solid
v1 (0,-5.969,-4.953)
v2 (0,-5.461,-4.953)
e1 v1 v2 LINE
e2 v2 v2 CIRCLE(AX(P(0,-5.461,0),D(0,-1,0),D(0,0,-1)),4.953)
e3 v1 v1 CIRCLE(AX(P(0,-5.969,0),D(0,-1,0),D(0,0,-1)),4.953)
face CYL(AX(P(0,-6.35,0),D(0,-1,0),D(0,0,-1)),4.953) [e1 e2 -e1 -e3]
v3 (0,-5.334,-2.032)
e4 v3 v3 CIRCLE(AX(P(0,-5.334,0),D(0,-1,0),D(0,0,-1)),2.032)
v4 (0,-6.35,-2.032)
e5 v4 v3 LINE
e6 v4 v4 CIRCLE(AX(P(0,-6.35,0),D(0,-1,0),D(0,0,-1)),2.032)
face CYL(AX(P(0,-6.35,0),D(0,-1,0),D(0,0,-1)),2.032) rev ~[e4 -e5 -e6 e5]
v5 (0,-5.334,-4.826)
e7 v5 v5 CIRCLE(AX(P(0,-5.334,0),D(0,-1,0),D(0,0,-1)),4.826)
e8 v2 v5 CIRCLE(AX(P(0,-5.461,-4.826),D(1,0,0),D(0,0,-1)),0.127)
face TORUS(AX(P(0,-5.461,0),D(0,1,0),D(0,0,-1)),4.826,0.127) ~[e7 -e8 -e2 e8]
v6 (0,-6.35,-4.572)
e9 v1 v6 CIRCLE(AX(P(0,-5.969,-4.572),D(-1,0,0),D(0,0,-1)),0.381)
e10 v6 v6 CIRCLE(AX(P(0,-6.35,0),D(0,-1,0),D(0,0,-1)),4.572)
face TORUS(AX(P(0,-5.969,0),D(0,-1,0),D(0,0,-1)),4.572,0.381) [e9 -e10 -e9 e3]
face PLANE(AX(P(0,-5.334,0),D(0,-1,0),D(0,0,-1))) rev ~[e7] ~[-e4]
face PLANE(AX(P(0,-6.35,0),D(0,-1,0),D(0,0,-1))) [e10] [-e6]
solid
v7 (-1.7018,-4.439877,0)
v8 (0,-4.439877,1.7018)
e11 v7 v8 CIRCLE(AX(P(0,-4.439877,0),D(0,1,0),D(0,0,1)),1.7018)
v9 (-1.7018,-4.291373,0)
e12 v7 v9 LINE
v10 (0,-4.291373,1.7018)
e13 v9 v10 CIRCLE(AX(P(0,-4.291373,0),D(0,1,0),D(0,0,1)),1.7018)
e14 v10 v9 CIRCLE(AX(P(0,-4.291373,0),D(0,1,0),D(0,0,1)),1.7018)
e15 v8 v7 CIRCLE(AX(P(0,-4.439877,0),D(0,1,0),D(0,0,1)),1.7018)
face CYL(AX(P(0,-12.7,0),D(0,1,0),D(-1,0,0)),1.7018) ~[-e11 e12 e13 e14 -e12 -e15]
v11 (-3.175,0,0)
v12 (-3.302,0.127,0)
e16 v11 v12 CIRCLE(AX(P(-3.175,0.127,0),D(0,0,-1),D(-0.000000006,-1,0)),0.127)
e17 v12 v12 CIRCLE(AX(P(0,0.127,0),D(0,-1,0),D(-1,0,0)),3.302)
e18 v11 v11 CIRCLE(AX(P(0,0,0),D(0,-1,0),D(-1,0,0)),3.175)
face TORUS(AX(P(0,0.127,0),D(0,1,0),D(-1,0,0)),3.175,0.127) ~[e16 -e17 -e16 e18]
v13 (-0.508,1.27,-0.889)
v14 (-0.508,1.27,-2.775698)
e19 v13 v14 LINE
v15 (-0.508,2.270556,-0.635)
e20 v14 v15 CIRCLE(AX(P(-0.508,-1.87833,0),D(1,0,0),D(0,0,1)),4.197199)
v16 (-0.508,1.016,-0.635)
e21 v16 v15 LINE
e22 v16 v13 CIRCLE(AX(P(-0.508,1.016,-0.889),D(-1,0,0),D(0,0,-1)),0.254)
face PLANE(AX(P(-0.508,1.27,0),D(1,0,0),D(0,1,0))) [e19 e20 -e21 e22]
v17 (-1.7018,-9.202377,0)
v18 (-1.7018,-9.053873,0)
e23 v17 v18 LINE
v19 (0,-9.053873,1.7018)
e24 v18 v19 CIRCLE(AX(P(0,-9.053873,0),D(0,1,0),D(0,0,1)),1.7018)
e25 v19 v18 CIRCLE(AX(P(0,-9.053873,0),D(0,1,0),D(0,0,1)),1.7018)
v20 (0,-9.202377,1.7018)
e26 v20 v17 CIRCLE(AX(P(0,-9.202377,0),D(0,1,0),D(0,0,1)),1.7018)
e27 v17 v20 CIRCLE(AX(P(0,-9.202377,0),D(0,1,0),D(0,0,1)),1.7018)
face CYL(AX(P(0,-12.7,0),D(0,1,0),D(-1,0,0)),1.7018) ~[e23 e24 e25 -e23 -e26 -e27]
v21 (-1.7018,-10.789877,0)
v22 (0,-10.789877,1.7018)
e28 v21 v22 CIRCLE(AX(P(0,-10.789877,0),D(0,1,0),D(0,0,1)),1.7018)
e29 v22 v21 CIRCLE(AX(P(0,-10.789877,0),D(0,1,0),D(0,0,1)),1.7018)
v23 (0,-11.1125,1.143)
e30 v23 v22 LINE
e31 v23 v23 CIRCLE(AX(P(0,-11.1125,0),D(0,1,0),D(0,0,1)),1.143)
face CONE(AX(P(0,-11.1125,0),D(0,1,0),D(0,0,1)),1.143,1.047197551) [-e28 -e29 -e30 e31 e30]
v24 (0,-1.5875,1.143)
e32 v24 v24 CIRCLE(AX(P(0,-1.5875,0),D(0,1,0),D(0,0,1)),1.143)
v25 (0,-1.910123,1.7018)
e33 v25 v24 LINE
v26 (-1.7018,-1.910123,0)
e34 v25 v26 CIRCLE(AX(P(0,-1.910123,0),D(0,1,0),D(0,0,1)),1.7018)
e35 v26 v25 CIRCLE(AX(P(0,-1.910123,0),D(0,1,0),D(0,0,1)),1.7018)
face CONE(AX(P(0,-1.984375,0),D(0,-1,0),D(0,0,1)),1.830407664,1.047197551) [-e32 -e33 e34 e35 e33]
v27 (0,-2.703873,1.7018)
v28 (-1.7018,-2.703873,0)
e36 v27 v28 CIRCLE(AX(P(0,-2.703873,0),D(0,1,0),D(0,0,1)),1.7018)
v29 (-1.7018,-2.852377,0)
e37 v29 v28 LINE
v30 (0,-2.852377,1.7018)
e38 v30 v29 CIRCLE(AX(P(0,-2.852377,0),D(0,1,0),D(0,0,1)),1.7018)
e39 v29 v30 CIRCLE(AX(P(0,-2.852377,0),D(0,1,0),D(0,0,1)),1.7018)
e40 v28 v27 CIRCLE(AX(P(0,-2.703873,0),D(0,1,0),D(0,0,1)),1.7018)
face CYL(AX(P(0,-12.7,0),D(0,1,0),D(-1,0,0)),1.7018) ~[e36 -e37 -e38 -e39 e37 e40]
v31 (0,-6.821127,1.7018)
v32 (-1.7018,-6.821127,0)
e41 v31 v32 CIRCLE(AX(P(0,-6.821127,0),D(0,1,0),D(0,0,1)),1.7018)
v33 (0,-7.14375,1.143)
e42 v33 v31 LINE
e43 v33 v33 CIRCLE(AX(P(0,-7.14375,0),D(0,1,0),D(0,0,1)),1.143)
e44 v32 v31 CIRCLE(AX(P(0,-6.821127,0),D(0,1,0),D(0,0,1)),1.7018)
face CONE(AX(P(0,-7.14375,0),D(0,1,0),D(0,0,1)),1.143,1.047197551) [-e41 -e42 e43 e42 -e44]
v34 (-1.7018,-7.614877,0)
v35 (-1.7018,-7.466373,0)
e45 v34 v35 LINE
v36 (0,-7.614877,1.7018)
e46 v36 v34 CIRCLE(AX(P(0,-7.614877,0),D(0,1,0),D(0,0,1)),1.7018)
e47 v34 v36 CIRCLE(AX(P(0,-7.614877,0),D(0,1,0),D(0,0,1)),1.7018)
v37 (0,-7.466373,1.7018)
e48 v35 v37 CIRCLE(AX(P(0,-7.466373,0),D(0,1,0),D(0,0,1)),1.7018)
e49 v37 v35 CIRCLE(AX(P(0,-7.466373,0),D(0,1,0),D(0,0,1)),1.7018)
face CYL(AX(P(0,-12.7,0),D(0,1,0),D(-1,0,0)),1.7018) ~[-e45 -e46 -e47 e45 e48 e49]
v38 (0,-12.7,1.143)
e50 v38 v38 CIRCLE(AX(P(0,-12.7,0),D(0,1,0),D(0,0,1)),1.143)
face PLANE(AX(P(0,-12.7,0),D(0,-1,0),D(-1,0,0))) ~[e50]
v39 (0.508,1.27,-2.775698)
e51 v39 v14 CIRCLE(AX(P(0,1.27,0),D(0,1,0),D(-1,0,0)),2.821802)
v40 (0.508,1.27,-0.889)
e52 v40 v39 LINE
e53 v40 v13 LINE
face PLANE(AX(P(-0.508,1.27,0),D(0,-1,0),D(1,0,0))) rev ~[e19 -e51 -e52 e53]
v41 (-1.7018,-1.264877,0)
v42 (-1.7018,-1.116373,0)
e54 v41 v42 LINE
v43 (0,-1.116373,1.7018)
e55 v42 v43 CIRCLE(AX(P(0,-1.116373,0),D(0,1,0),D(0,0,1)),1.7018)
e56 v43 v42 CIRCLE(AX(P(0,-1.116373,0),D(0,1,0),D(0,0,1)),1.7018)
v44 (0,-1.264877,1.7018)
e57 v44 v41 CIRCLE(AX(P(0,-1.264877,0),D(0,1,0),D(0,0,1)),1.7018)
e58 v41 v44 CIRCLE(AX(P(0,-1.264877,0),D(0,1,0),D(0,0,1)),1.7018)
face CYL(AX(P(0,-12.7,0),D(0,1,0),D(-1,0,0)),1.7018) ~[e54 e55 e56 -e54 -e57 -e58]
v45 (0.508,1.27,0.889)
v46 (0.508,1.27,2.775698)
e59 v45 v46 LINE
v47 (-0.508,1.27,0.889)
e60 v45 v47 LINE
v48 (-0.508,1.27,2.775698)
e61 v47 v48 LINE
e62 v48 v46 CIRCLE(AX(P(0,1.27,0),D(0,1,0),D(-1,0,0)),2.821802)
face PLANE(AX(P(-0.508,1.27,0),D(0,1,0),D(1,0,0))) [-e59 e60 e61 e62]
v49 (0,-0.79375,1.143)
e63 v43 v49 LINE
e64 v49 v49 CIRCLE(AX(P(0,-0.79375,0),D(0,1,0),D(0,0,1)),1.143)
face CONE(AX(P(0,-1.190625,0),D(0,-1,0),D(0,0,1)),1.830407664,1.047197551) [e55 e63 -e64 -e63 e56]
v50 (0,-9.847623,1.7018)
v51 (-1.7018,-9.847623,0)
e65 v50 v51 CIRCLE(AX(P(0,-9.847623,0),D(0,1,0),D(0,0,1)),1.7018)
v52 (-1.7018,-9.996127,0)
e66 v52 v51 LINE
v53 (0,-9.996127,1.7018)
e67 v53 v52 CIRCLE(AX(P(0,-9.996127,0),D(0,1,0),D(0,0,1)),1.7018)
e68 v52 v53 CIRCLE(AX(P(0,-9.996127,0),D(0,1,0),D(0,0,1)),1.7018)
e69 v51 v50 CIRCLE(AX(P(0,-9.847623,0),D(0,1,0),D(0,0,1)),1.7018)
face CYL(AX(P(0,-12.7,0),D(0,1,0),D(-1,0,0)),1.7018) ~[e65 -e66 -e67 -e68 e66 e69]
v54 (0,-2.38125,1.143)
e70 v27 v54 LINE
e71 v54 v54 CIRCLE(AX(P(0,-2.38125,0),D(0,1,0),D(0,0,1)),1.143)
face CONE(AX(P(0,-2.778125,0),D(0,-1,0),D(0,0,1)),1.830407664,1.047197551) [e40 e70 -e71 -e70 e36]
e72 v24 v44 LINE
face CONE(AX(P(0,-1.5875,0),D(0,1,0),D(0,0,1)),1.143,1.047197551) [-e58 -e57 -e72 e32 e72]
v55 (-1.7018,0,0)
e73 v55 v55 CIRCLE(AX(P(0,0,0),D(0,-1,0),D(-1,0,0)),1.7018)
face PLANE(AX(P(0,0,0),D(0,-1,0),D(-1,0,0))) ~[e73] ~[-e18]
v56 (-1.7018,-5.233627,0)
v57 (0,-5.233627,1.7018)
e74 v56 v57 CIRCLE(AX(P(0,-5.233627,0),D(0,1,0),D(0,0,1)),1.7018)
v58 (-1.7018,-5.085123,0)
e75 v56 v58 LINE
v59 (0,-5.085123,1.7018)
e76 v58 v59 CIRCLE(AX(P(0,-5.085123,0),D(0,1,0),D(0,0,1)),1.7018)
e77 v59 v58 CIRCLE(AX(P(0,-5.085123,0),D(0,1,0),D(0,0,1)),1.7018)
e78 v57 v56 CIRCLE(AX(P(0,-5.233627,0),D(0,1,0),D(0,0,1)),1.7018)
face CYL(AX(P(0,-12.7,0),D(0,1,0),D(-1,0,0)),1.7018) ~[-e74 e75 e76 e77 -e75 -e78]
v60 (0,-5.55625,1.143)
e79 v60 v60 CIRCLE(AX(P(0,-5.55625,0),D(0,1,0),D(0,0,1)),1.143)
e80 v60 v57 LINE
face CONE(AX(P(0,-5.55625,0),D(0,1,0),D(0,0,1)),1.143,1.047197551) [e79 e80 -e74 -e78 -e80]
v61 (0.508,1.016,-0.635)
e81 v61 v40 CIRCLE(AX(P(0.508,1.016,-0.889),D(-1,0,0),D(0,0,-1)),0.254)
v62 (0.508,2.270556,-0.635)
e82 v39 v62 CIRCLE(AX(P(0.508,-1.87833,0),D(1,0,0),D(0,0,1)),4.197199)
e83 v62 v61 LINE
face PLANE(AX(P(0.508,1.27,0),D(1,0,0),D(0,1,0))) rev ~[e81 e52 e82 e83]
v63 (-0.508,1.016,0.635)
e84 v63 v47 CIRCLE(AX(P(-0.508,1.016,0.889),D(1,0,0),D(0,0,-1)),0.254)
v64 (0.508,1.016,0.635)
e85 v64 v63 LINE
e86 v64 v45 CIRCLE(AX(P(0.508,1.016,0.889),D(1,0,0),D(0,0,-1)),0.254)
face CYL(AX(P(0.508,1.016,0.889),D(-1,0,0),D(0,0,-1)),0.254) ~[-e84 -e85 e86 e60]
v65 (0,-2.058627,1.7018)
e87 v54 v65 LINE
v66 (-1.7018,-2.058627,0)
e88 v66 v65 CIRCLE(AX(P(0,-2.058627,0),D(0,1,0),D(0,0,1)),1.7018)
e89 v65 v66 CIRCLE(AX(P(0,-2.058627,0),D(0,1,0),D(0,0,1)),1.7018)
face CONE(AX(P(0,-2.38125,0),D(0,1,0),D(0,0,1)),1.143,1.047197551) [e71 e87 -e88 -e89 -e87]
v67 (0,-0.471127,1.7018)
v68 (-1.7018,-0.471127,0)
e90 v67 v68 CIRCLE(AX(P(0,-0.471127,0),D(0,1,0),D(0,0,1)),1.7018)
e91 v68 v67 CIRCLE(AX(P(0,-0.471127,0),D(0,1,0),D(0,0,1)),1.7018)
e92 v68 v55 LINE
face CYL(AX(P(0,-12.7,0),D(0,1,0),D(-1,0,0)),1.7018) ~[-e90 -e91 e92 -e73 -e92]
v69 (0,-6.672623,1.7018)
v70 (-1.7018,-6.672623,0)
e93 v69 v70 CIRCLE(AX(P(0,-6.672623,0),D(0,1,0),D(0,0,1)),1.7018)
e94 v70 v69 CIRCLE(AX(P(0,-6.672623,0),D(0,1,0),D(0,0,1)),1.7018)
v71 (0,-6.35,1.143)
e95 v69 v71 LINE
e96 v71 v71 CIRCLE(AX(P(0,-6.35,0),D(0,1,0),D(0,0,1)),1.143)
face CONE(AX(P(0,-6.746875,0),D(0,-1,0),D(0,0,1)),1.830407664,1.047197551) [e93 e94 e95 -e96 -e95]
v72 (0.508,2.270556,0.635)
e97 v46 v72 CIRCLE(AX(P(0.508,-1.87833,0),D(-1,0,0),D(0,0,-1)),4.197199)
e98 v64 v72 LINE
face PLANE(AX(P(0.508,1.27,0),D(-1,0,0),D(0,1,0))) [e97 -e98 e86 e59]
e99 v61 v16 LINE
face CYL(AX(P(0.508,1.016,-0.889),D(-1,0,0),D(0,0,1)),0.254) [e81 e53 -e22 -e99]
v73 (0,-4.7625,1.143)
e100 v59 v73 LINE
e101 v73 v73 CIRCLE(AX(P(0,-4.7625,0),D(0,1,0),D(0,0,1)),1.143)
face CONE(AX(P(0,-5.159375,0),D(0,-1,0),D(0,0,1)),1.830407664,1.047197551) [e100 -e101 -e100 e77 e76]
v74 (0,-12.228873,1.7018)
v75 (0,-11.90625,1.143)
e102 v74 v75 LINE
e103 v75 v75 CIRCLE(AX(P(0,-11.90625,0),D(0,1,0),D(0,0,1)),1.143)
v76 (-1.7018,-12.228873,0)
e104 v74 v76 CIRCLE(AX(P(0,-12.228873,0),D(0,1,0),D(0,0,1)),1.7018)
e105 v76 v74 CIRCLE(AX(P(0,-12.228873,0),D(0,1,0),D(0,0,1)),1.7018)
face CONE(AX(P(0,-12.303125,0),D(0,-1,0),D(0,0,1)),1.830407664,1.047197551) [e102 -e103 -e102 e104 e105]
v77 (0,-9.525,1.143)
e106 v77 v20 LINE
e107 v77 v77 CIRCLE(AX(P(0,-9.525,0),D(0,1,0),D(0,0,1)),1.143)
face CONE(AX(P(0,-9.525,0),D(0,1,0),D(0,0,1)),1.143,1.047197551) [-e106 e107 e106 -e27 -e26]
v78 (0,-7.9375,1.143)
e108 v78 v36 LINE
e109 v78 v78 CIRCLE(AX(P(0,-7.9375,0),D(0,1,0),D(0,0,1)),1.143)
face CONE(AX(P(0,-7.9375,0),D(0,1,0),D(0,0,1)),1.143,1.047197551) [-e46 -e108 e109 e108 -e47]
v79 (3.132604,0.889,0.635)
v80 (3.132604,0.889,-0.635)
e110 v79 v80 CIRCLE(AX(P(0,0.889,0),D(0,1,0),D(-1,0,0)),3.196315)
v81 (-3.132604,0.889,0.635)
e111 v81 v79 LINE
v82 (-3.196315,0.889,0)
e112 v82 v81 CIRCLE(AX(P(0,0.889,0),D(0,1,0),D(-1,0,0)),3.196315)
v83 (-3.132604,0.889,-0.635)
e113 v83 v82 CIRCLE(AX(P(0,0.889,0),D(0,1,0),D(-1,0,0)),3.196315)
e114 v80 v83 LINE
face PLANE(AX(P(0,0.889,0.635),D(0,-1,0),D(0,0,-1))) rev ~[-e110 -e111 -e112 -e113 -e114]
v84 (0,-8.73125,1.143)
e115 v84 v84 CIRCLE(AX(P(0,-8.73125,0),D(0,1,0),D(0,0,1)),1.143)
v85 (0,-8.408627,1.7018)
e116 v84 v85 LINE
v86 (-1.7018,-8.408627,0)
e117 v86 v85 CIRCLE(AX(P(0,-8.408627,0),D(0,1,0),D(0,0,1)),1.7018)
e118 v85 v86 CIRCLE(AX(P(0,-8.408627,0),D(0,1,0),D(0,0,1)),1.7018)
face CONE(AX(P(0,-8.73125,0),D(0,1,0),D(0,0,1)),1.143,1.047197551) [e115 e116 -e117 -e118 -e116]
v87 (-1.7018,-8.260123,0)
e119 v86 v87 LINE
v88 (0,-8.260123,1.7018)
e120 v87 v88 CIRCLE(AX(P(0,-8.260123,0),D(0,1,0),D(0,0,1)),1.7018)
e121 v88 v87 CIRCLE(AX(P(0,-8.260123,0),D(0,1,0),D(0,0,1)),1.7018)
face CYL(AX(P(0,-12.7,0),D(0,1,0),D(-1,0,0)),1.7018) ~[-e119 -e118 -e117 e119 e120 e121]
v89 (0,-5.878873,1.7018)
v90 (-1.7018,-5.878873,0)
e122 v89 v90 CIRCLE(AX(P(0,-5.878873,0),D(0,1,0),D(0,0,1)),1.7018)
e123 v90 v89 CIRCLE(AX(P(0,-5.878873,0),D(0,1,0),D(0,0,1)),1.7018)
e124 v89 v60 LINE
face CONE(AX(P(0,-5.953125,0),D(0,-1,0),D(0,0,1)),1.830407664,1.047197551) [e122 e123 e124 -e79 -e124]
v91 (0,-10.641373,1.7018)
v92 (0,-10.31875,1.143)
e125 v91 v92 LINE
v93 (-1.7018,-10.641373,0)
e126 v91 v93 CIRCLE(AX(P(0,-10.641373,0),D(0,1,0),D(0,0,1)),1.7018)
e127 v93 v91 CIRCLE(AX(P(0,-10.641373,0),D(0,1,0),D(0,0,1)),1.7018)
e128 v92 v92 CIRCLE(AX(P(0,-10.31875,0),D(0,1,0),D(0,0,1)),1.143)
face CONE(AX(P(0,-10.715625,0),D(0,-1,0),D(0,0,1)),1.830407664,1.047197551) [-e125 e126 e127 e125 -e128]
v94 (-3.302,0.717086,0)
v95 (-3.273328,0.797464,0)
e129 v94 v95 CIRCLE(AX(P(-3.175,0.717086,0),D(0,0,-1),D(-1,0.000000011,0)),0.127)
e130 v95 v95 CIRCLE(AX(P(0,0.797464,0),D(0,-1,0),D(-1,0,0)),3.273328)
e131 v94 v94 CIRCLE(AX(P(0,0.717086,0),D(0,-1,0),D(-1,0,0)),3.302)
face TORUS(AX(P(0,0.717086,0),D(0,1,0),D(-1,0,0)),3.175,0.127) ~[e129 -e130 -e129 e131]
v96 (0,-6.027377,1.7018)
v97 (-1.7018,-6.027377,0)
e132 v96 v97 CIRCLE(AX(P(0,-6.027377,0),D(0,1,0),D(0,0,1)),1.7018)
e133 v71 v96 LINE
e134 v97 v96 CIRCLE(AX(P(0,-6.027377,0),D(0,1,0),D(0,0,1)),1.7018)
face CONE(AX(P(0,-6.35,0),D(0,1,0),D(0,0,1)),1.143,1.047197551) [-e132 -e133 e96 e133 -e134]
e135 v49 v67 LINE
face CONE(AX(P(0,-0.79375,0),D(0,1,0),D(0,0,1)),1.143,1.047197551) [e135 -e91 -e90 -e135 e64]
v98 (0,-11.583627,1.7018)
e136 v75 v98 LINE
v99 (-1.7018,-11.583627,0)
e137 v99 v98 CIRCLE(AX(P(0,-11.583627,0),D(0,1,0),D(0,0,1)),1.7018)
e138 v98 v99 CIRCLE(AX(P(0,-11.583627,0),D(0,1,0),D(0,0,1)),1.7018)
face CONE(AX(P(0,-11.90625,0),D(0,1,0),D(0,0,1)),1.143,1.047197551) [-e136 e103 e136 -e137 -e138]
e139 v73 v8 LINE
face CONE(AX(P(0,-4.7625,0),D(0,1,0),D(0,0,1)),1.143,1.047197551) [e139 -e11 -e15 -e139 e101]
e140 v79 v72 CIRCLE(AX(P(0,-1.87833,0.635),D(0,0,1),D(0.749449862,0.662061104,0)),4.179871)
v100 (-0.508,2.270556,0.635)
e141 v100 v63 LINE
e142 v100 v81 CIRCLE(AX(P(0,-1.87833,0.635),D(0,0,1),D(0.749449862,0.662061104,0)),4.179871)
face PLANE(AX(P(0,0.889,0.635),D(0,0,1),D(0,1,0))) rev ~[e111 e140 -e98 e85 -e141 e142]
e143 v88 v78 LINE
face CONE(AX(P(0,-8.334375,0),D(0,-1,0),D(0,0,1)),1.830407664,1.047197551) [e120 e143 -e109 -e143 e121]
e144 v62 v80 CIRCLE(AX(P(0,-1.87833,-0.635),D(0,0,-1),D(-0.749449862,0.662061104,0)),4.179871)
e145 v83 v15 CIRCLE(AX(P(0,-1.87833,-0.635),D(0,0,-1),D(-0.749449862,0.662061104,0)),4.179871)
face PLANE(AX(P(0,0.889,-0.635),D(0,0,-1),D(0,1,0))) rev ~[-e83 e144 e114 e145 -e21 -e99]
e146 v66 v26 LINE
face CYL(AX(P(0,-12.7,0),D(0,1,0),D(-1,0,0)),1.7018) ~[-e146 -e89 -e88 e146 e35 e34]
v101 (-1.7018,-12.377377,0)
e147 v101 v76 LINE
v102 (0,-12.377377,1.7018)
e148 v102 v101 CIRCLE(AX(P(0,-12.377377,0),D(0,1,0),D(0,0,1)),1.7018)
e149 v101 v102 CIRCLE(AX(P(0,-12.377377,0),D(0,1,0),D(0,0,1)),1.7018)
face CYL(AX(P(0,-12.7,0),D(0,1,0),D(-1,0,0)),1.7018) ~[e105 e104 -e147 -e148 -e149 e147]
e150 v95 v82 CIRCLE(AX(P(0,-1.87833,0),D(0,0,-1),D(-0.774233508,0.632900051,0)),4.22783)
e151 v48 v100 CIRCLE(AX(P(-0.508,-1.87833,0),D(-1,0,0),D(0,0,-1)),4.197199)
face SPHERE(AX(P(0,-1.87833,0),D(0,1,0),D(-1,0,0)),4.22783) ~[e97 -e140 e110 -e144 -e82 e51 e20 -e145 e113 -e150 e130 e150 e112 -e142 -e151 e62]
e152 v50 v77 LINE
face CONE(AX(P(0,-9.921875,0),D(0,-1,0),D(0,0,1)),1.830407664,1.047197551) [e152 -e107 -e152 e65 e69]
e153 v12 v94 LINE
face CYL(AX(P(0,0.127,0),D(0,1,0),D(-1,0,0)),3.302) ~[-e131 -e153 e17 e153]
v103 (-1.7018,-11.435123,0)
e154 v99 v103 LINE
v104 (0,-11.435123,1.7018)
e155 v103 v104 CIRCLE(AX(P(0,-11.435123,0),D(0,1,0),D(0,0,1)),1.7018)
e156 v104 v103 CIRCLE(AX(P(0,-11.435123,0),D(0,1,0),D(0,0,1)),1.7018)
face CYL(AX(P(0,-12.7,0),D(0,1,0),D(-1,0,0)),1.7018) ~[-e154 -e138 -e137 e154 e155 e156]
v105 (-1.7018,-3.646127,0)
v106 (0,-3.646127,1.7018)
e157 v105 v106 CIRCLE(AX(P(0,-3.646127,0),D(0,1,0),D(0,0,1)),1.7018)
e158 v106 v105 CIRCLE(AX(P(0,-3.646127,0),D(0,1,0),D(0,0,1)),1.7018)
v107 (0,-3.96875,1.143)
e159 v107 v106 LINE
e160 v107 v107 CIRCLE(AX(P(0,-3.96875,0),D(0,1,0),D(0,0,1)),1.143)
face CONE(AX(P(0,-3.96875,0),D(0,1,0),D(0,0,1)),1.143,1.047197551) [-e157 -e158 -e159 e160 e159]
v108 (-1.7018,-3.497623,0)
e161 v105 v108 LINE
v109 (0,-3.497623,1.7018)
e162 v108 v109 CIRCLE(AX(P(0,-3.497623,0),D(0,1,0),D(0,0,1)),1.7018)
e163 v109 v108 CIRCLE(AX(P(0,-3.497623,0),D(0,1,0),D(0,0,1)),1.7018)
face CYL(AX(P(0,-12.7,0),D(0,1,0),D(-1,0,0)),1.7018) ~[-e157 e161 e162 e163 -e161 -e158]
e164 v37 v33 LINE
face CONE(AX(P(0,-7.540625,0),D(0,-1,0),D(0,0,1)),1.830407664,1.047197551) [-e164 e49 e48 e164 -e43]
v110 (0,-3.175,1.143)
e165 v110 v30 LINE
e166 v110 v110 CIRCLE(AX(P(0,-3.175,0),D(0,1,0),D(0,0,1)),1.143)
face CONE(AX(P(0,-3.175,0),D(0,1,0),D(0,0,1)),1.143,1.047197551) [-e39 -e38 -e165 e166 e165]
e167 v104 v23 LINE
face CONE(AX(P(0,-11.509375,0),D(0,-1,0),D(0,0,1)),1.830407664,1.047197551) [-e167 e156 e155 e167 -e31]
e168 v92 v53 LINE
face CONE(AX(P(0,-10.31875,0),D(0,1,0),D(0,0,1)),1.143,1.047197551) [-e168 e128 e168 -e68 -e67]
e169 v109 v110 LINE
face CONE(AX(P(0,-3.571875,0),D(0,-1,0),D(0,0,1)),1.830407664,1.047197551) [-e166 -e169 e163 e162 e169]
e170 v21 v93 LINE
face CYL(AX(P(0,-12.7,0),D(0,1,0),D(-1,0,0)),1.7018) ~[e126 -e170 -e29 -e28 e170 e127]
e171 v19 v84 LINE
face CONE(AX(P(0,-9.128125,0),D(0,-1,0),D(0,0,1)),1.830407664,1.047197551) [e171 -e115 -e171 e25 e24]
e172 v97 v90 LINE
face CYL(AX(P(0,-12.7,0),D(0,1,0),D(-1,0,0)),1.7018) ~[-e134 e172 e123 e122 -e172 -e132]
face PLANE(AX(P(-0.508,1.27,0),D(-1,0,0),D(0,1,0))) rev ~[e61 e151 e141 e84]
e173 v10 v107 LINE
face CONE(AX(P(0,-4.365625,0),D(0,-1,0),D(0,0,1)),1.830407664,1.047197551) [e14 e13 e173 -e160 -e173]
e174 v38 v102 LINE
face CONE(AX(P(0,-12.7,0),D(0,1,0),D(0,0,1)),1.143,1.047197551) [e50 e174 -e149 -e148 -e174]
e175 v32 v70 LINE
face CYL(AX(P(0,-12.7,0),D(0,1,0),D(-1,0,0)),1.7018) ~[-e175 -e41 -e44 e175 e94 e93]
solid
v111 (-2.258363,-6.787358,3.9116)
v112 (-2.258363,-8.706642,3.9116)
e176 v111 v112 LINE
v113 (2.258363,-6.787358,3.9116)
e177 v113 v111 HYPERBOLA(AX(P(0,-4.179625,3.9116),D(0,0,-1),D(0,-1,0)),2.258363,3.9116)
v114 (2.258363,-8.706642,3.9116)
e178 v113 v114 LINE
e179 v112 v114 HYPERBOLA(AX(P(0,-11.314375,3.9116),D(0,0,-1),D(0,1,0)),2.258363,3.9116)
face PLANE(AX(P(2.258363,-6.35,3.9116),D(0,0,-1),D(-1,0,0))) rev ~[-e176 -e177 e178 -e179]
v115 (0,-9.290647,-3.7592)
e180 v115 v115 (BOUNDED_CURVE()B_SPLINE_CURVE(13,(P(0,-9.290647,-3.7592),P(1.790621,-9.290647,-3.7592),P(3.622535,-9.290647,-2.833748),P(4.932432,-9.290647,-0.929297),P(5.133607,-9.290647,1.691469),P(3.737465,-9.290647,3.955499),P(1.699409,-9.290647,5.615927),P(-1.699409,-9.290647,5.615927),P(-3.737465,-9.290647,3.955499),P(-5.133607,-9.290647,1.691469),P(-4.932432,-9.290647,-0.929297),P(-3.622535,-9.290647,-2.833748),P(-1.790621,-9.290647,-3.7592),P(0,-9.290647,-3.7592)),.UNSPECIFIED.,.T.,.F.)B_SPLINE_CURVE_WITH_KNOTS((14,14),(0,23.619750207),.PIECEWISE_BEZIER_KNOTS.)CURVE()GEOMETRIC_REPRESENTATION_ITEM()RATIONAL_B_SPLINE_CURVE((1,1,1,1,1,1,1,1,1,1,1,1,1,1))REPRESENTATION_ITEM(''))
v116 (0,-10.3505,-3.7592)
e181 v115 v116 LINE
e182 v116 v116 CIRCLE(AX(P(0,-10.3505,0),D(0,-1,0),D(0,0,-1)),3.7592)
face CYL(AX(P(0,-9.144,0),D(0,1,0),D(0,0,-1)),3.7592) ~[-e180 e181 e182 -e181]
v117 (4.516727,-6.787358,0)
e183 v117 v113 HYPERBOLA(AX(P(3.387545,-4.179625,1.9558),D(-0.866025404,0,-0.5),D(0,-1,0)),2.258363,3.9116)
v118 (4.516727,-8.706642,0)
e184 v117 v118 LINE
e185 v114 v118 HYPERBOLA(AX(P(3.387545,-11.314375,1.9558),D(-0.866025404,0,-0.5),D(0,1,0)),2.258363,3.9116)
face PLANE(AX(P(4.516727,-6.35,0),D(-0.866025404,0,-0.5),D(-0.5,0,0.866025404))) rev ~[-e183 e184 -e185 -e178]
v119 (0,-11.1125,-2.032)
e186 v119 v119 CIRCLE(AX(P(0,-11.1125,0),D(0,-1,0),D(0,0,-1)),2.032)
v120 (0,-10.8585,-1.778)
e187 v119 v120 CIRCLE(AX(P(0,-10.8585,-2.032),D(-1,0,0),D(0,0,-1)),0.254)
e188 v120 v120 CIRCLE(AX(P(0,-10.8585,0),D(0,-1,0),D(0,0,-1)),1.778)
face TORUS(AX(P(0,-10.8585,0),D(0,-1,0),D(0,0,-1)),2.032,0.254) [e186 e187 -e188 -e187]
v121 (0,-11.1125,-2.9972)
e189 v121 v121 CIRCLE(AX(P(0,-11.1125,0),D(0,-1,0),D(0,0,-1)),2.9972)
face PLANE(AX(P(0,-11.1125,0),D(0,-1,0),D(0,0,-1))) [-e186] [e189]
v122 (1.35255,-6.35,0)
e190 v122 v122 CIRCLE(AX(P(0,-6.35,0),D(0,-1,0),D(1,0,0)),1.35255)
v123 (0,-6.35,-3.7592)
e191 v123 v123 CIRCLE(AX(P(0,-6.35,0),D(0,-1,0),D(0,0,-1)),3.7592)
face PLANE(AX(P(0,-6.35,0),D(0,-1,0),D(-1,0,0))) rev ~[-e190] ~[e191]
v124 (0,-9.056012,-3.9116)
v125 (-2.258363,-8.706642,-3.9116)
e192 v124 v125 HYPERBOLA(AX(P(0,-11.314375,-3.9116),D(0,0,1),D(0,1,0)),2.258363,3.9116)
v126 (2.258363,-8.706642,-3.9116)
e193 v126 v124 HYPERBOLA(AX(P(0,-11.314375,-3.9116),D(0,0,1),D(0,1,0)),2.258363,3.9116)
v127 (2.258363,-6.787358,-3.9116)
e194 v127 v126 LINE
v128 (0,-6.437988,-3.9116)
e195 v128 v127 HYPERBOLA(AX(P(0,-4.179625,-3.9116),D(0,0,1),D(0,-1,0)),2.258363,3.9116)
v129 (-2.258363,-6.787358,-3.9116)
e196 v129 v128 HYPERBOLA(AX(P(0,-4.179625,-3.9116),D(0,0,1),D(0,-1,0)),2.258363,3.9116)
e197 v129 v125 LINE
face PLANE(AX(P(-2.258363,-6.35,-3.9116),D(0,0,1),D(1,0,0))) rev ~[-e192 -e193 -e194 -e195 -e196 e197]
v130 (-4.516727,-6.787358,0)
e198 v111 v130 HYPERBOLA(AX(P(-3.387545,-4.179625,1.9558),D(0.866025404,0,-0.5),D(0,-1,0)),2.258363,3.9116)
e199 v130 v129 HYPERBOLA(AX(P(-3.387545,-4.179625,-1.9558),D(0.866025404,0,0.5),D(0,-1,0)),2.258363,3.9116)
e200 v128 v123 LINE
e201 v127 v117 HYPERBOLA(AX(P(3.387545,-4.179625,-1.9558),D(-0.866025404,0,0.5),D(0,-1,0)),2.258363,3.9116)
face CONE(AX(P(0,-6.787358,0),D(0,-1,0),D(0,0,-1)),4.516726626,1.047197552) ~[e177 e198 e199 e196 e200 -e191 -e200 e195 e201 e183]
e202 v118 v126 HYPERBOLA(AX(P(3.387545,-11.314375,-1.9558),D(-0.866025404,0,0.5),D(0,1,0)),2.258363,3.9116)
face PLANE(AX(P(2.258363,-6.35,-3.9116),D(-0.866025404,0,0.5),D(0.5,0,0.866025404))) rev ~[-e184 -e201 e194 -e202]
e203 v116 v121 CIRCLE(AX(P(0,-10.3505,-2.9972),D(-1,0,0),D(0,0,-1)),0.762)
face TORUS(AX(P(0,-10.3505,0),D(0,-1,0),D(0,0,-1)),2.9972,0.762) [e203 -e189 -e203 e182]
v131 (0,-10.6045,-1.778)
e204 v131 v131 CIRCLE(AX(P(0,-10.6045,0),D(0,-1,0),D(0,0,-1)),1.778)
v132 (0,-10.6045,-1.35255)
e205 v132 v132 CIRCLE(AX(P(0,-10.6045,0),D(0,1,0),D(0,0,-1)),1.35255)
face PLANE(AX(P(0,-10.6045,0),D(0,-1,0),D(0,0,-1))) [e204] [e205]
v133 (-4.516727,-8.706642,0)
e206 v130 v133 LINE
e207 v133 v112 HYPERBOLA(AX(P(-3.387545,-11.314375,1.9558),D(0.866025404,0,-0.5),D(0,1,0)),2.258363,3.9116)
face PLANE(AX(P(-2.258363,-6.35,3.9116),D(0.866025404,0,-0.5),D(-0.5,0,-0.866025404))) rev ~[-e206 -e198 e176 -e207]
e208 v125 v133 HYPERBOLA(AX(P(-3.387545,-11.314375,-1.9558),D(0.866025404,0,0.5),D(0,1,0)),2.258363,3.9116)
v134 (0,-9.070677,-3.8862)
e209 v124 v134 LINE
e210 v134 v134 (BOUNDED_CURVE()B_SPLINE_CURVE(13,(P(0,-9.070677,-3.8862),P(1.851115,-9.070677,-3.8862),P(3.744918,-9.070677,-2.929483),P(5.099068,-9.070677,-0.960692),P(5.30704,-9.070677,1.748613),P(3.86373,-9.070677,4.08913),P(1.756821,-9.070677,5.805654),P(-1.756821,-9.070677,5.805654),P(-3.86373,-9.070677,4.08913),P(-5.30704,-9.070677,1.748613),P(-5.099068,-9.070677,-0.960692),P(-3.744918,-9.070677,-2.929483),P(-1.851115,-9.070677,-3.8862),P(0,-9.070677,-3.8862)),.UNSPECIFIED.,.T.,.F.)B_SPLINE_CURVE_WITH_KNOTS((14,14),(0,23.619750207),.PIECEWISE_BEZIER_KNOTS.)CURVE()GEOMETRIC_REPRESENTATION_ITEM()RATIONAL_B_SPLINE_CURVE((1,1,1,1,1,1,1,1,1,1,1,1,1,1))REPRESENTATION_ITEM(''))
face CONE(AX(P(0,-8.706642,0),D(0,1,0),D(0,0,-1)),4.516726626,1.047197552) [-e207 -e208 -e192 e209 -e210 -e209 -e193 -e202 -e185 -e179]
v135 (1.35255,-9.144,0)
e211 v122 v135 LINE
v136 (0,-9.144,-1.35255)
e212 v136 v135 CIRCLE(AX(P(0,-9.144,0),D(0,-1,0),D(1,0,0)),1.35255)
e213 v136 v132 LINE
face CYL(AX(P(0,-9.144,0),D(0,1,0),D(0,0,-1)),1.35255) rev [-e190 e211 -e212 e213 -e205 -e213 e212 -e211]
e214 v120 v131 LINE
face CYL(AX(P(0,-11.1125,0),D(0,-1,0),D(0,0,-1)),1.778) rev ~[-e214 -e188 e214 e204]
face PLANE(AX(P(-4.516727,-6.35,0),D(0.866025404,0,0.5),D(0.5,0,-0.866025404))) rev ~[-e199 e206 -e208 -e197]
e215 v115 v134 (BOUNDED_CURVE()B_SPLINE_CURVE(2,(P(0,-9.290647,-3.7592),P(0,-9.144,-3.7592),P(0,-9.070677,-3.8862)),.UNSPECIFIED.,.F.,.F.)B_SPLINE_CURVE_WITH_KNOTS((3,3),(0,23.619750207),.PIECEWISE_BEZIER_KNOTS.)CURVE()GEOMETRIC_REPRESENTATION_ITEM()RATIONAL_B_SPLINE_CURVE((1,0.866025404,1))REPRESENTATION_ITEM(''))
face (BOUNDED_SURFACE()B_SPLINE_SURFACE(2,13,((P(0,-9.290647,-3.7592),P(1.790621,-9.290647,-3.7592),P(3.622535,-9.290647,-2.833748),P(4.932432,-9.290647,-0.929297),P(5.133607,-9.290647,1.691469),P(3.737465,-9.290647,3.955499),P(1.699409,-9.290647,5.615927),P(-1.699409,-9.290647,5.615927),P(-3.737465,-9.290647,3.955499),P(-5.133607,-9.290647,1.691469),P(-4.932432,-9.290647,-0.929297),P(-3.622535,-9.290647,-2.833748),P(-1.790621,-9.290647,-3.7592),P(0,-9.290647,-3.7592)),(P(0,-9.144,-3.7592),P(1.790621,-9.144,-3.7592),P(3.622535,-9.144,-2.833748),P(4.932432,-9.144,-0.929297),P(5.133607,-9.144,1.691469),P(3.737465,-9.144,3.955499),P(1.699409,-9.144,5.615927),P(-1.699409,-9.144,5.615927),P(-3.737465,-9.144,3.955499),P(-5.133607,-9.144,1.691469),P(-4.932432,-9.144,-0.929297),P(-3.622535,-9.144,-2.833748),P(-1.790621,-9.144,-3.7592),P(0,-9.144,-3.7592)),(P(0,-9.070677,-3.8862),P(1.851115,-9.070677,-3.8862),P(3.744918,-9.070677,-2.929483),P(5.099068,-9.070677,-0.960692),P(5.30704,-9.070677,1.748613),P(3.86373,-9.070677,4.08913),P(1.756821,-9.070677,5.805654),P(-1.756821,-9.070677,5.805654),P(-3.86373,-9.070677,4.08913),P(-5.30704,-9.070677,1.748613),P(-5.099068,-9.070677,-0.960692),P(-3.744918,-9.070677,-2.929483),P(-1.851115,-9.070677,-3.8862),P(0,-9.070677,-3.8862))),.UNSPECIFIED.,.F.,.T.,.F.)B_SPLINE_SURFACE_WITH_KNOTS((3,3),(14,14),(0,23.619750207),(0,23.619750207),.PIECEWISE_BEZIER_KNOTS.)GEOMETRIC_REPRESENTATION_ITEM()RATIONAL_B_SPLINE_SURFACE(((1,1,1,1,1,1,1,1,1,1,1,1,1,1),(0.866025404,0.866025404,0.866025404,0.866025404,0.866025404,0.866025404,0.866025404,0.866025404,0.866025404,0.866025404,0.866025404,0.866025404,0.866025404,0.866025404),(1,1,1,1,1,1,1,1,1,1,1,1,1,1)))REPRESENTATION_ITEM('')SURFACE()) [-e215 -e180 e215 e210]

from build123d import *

# Parameters (mm, degrees)
SKETCH2_W                          = 1.27
SKETCH2_H                          = 1.778
LONG_CUT_PHILLIPS_DEPTH            = 14.53131218
LONG_CUT_PHILLIPS_DEPTH_BACK       = 14.53131218
SKETCH3_W                          = 1.016
SKETCH3_H                          = 1.27
SHORT_CUT_PHILLIPS_DEPTH           = 14.53131218
SHORT_CUT_PHILLIPS_DEPTH_BACK      = 14.53131218
PHILLIPS_FILLET_R                  = 0.254
LPATTERN_THREADS_COUNT             = 16
LPATTERN_THREADS_PITCH             = 0.79375
SKETCH5_R                          = 1.35255
NUT_TAP_HOLE_36_DRILL_0_1065_DEPTH = 2.794
SKETCH8_R                          = 3.7592
SKETCH8_R_2                        = 1.35255
LOCK_NUT_EXTRUDE_DEPTH             = 1.9685
SKETCH9_R                          = 1.778
LOCK_NUT_CUT_DEPTH                 = 0.508
LOCK_NUT_FILLET_1_R                = 0.762
LOCK_NUT_FILLET_2_R                = 0.254
SKETCH7_R                          = 4.953
SKETCH7_R_2                        = 2.032
WASHER_DEPTH                       = 1.016
WASHER_FILLET_1_R                  = 0.381
WASHER_FILLET_2_R                  = 0.127


with BuildPart() as part:
    # Sketch1 → Revolve Screw Body (revolve)
    with BuildSketch(Plane.XY, mode=Mode.PRIVATE) as revolve_screw_body_sk:
        with BuildLine():
            Line((0, 2.3495), (0, -12.7))
            Line((0, -12.7), (1.7018, -12.7))
            Line((1.7018, -12.7), (1.7018, 0))
            Line((1.7018, 0), (3.175, 0))
            ThreePointArc((3.175, 0), (3.264802561, 0.037197439), (3.302, 0.127))
            Line((3.302, 0.127), (3.302, 0.717085514))
            ThreePointArc((3.302, 0.717085514), (3.294617332, 0.759755103), (3.273327656, 0.79746382))
            ThreePointArc((3.273327656, 0.79746382), (1.811317907, 1.941836743), (0, 2.3495))
        make_face()
    revolve(revolve_screw_body_sk.sketch.rotate(Axis((0, 2.3495, 0), (0, -1, 0)), 180), axis=Axis((0, 2.3495, 0), (0, -1, 0)))

    # Sketch2 → Long Cut Phillips (cut, two sides)
    with BuildSketch(Plane(origin=(0, 0, 0), x_dir=(0, 0, -1), z_dir=(1, 0, 0))) as long_cut_phillips_sk:
        with Locations((0, 1.778)):
            Rectangle(SKETCH2_W, SKETCH2_H)
    extrude(amount=LONG_CUT_PHILLIPS_DEPTH, mode=Mode.SUBTRACT)
    extrude(long_cut_phillips_sk.sketch, amount=-LONG_CUT_PHILLIPS_DEPTH_BACK, mode=Mode.SUBTRACT)

    # Sketch3 → Short Cut Phillips (cut, two sides)
    with BuildSketch(Plane.XY) as short_cut_phillips_sk:
        with Locations((0, 1.905)):
            Rectangle(SKETCH3_W, SKETCH3_H)
    extrude(amount=SHORT_CUT_PHILLIPS_DEPTH, mode=Mode.SUBTRACT)
    extrude(short_cut_phillips_sk.sketch, amount=-SHORT_CUT_PHILLIPS_DEPTH_BACK, mode=Mode.SUBTRACT)

    # Phillips Fillet
    phillips_fillet_edges = [part.edges().sort_by_distance(p)[0] for p in [
        (0, 1.27, -0.635),
        (0, 1.27, 0.635),
    ]]
    fillet(phillips_fillet_edges, radius=PHILLIPS_FILLET_R)

    # Sketch4 → Cut Threading (revolve, cut)
    with BuildSketch(Plane.XY, mode=Mode.PRIVATE) as cut_threading_sk:
        Polygon((2.624157664, -12.303125), (2.624157664, -13.096875), (1.830407664, -13.096875), (1.143, -12.7), (1.830407664, -12.303125), align=None)
    cut_threading = revolve(cut_threading_sk.sketch.rotate(Axis((0, -12.7, 0), (0, 1, 0)), 270), axis=Axis((0, -12.7, 0), (0, 1, 0)), mode=Mode.SUBTRACT)

    # LPattern Threads: Cut Threading ×16
    with Locations(*[(0, i * LPATTERN_THREADS_PITCH, 0) for i in range(1, LPATTERN_THREADS_COUNT)]):
        add(cut_threading, mode=Mode.SUBTRACT)


with BuildPart() as body_2:
    # Sketch5 → Nut Tap Hole #36 Drill 0.1065 (new body)
    with BuildSketch(Plane(origin=(0, -6.35, 0), x_dir=(-1, 0, 0), z_dir=(0, -1, 0))):
        Polygon((-4.516726626, 0), (-2.258363313, -3.9116), (2.258363313, -3.9116), (4.516726626, 0), (2.258363313, 3.9116), (-2.258363313, 3.9116), align=None)
        with Locations(Location((0, 0, 0), (0, 0, 180))):
            Circle(SKETCH5_R, mode=Mode.SUBTRACT)
    extrude(amount=NUT_TAP_HOLE_36_DRILL_0_1065_DEPTH)

    # Sketch6 → Nut Angle Edges (revolve, cut)
    with BuildSketch(Plane.XY, mode=Mode.PRIVATE) as nut_angle_edges_sk:
        Polygon((3.7592, -6.35), (4.516726626, -6.35), (4.516726626, -6.787358201), align=None)
        Polygon((3.7592, -9.144), (4.516726626, -9.144), (4.516726626, -8.706641799), align=None)
    revolve(nut_angle_edges_sk.sketch.rotate(Axis((0, -6.35, 0), (0, -1, 0)), 270), axis=Axis((0, -6.35, 0), (0, -1, 0)), mode=Mode.SUBTRACT)

    # Sketch8 → Lock Nut Extrude (add)
    with BuildSketch(Plane.XZ.offset(9.144)):
        with Locations(Location((0, 0, 0), (0, 0, 270))):
            Circle(SKETCH8_R)
        with Locations(Location((0, 0, 0), (0, 0, 270))):
            Circle(SKETCH8_R_2, mode=Mode.SUBTRACT)
    extrude(amount=LOCK_NUT_EXTRUDE_DEPTH)

    # Sketch9 → Lock Nut Cut (cut)
    with BuildSketch(Plane.XZ.offset(11.1125)):
        with Locations(Location((0, 0, 0), (0, 0, 270))):
            Circle(SKETCH9_R)
    extrude(amount=-LOCK_NUT_CUT_DEPTH, mode=Mode.SUBTRACT)

    # Lock Nut Fillet-1
    lock_nut_fillet_1_edges = [body_2.edges().sort_by_distance(p)[0] for p in [
        (0, -11.1125, 3.7592),
    ]]
    fillet(lock_nut_fillet_1_edges, radius=LOCK_NUT_FILLET_1_R)

    # Lock Nut Fillet-2
    lock_nut_fillet_2_edges = [body_2.edges().sort_by_distance(p)[0] for p in [
        (0, -9.144, 3.7592),
        (0, -11.1125, 1.778),
    ]]
    fillet(lock_nut_fillet_2_edges, radius=LOCK_NUT_FILLET_2_R)


with BuildPart() as body_3:
    # Sketch7 → Washer (new body)
    with BuildSketch(Plane.XZ.offset(6.35)):
        with Locations(Location((0, 0, 0), (0, 0, 270))):
            Circle(SKETCH7_R)
        with Locations(Location((0, 0, 0), (0, 0, 270))):
            Circle(SKETCH7_R_2, mode=Mode.SUBTRACT)
    extrude(amount=-WASHER_DEPTH)

    # Washer Fillet-1
    washer_fillet_1_edges = [body_3.edges().sort_by_distance(p)[0] for p in [
        (0, -6.35, 4.953),
    ]]
    fillet(washer_fillet_1_edges, radius=WASHER_FILLET_1_R)

    # Washer Fillet-2
    washer_fillet_2_edges = [body_3.edges().sort_by_distance(p)[0] for p in [
        (0, -5.334, 4.953),
    ]]
    fillet(washer_fillet_2_edges, radius=WASHER_FILLET_2_R)


solid = Compound([part.part, body_2.part, body_3.part])
